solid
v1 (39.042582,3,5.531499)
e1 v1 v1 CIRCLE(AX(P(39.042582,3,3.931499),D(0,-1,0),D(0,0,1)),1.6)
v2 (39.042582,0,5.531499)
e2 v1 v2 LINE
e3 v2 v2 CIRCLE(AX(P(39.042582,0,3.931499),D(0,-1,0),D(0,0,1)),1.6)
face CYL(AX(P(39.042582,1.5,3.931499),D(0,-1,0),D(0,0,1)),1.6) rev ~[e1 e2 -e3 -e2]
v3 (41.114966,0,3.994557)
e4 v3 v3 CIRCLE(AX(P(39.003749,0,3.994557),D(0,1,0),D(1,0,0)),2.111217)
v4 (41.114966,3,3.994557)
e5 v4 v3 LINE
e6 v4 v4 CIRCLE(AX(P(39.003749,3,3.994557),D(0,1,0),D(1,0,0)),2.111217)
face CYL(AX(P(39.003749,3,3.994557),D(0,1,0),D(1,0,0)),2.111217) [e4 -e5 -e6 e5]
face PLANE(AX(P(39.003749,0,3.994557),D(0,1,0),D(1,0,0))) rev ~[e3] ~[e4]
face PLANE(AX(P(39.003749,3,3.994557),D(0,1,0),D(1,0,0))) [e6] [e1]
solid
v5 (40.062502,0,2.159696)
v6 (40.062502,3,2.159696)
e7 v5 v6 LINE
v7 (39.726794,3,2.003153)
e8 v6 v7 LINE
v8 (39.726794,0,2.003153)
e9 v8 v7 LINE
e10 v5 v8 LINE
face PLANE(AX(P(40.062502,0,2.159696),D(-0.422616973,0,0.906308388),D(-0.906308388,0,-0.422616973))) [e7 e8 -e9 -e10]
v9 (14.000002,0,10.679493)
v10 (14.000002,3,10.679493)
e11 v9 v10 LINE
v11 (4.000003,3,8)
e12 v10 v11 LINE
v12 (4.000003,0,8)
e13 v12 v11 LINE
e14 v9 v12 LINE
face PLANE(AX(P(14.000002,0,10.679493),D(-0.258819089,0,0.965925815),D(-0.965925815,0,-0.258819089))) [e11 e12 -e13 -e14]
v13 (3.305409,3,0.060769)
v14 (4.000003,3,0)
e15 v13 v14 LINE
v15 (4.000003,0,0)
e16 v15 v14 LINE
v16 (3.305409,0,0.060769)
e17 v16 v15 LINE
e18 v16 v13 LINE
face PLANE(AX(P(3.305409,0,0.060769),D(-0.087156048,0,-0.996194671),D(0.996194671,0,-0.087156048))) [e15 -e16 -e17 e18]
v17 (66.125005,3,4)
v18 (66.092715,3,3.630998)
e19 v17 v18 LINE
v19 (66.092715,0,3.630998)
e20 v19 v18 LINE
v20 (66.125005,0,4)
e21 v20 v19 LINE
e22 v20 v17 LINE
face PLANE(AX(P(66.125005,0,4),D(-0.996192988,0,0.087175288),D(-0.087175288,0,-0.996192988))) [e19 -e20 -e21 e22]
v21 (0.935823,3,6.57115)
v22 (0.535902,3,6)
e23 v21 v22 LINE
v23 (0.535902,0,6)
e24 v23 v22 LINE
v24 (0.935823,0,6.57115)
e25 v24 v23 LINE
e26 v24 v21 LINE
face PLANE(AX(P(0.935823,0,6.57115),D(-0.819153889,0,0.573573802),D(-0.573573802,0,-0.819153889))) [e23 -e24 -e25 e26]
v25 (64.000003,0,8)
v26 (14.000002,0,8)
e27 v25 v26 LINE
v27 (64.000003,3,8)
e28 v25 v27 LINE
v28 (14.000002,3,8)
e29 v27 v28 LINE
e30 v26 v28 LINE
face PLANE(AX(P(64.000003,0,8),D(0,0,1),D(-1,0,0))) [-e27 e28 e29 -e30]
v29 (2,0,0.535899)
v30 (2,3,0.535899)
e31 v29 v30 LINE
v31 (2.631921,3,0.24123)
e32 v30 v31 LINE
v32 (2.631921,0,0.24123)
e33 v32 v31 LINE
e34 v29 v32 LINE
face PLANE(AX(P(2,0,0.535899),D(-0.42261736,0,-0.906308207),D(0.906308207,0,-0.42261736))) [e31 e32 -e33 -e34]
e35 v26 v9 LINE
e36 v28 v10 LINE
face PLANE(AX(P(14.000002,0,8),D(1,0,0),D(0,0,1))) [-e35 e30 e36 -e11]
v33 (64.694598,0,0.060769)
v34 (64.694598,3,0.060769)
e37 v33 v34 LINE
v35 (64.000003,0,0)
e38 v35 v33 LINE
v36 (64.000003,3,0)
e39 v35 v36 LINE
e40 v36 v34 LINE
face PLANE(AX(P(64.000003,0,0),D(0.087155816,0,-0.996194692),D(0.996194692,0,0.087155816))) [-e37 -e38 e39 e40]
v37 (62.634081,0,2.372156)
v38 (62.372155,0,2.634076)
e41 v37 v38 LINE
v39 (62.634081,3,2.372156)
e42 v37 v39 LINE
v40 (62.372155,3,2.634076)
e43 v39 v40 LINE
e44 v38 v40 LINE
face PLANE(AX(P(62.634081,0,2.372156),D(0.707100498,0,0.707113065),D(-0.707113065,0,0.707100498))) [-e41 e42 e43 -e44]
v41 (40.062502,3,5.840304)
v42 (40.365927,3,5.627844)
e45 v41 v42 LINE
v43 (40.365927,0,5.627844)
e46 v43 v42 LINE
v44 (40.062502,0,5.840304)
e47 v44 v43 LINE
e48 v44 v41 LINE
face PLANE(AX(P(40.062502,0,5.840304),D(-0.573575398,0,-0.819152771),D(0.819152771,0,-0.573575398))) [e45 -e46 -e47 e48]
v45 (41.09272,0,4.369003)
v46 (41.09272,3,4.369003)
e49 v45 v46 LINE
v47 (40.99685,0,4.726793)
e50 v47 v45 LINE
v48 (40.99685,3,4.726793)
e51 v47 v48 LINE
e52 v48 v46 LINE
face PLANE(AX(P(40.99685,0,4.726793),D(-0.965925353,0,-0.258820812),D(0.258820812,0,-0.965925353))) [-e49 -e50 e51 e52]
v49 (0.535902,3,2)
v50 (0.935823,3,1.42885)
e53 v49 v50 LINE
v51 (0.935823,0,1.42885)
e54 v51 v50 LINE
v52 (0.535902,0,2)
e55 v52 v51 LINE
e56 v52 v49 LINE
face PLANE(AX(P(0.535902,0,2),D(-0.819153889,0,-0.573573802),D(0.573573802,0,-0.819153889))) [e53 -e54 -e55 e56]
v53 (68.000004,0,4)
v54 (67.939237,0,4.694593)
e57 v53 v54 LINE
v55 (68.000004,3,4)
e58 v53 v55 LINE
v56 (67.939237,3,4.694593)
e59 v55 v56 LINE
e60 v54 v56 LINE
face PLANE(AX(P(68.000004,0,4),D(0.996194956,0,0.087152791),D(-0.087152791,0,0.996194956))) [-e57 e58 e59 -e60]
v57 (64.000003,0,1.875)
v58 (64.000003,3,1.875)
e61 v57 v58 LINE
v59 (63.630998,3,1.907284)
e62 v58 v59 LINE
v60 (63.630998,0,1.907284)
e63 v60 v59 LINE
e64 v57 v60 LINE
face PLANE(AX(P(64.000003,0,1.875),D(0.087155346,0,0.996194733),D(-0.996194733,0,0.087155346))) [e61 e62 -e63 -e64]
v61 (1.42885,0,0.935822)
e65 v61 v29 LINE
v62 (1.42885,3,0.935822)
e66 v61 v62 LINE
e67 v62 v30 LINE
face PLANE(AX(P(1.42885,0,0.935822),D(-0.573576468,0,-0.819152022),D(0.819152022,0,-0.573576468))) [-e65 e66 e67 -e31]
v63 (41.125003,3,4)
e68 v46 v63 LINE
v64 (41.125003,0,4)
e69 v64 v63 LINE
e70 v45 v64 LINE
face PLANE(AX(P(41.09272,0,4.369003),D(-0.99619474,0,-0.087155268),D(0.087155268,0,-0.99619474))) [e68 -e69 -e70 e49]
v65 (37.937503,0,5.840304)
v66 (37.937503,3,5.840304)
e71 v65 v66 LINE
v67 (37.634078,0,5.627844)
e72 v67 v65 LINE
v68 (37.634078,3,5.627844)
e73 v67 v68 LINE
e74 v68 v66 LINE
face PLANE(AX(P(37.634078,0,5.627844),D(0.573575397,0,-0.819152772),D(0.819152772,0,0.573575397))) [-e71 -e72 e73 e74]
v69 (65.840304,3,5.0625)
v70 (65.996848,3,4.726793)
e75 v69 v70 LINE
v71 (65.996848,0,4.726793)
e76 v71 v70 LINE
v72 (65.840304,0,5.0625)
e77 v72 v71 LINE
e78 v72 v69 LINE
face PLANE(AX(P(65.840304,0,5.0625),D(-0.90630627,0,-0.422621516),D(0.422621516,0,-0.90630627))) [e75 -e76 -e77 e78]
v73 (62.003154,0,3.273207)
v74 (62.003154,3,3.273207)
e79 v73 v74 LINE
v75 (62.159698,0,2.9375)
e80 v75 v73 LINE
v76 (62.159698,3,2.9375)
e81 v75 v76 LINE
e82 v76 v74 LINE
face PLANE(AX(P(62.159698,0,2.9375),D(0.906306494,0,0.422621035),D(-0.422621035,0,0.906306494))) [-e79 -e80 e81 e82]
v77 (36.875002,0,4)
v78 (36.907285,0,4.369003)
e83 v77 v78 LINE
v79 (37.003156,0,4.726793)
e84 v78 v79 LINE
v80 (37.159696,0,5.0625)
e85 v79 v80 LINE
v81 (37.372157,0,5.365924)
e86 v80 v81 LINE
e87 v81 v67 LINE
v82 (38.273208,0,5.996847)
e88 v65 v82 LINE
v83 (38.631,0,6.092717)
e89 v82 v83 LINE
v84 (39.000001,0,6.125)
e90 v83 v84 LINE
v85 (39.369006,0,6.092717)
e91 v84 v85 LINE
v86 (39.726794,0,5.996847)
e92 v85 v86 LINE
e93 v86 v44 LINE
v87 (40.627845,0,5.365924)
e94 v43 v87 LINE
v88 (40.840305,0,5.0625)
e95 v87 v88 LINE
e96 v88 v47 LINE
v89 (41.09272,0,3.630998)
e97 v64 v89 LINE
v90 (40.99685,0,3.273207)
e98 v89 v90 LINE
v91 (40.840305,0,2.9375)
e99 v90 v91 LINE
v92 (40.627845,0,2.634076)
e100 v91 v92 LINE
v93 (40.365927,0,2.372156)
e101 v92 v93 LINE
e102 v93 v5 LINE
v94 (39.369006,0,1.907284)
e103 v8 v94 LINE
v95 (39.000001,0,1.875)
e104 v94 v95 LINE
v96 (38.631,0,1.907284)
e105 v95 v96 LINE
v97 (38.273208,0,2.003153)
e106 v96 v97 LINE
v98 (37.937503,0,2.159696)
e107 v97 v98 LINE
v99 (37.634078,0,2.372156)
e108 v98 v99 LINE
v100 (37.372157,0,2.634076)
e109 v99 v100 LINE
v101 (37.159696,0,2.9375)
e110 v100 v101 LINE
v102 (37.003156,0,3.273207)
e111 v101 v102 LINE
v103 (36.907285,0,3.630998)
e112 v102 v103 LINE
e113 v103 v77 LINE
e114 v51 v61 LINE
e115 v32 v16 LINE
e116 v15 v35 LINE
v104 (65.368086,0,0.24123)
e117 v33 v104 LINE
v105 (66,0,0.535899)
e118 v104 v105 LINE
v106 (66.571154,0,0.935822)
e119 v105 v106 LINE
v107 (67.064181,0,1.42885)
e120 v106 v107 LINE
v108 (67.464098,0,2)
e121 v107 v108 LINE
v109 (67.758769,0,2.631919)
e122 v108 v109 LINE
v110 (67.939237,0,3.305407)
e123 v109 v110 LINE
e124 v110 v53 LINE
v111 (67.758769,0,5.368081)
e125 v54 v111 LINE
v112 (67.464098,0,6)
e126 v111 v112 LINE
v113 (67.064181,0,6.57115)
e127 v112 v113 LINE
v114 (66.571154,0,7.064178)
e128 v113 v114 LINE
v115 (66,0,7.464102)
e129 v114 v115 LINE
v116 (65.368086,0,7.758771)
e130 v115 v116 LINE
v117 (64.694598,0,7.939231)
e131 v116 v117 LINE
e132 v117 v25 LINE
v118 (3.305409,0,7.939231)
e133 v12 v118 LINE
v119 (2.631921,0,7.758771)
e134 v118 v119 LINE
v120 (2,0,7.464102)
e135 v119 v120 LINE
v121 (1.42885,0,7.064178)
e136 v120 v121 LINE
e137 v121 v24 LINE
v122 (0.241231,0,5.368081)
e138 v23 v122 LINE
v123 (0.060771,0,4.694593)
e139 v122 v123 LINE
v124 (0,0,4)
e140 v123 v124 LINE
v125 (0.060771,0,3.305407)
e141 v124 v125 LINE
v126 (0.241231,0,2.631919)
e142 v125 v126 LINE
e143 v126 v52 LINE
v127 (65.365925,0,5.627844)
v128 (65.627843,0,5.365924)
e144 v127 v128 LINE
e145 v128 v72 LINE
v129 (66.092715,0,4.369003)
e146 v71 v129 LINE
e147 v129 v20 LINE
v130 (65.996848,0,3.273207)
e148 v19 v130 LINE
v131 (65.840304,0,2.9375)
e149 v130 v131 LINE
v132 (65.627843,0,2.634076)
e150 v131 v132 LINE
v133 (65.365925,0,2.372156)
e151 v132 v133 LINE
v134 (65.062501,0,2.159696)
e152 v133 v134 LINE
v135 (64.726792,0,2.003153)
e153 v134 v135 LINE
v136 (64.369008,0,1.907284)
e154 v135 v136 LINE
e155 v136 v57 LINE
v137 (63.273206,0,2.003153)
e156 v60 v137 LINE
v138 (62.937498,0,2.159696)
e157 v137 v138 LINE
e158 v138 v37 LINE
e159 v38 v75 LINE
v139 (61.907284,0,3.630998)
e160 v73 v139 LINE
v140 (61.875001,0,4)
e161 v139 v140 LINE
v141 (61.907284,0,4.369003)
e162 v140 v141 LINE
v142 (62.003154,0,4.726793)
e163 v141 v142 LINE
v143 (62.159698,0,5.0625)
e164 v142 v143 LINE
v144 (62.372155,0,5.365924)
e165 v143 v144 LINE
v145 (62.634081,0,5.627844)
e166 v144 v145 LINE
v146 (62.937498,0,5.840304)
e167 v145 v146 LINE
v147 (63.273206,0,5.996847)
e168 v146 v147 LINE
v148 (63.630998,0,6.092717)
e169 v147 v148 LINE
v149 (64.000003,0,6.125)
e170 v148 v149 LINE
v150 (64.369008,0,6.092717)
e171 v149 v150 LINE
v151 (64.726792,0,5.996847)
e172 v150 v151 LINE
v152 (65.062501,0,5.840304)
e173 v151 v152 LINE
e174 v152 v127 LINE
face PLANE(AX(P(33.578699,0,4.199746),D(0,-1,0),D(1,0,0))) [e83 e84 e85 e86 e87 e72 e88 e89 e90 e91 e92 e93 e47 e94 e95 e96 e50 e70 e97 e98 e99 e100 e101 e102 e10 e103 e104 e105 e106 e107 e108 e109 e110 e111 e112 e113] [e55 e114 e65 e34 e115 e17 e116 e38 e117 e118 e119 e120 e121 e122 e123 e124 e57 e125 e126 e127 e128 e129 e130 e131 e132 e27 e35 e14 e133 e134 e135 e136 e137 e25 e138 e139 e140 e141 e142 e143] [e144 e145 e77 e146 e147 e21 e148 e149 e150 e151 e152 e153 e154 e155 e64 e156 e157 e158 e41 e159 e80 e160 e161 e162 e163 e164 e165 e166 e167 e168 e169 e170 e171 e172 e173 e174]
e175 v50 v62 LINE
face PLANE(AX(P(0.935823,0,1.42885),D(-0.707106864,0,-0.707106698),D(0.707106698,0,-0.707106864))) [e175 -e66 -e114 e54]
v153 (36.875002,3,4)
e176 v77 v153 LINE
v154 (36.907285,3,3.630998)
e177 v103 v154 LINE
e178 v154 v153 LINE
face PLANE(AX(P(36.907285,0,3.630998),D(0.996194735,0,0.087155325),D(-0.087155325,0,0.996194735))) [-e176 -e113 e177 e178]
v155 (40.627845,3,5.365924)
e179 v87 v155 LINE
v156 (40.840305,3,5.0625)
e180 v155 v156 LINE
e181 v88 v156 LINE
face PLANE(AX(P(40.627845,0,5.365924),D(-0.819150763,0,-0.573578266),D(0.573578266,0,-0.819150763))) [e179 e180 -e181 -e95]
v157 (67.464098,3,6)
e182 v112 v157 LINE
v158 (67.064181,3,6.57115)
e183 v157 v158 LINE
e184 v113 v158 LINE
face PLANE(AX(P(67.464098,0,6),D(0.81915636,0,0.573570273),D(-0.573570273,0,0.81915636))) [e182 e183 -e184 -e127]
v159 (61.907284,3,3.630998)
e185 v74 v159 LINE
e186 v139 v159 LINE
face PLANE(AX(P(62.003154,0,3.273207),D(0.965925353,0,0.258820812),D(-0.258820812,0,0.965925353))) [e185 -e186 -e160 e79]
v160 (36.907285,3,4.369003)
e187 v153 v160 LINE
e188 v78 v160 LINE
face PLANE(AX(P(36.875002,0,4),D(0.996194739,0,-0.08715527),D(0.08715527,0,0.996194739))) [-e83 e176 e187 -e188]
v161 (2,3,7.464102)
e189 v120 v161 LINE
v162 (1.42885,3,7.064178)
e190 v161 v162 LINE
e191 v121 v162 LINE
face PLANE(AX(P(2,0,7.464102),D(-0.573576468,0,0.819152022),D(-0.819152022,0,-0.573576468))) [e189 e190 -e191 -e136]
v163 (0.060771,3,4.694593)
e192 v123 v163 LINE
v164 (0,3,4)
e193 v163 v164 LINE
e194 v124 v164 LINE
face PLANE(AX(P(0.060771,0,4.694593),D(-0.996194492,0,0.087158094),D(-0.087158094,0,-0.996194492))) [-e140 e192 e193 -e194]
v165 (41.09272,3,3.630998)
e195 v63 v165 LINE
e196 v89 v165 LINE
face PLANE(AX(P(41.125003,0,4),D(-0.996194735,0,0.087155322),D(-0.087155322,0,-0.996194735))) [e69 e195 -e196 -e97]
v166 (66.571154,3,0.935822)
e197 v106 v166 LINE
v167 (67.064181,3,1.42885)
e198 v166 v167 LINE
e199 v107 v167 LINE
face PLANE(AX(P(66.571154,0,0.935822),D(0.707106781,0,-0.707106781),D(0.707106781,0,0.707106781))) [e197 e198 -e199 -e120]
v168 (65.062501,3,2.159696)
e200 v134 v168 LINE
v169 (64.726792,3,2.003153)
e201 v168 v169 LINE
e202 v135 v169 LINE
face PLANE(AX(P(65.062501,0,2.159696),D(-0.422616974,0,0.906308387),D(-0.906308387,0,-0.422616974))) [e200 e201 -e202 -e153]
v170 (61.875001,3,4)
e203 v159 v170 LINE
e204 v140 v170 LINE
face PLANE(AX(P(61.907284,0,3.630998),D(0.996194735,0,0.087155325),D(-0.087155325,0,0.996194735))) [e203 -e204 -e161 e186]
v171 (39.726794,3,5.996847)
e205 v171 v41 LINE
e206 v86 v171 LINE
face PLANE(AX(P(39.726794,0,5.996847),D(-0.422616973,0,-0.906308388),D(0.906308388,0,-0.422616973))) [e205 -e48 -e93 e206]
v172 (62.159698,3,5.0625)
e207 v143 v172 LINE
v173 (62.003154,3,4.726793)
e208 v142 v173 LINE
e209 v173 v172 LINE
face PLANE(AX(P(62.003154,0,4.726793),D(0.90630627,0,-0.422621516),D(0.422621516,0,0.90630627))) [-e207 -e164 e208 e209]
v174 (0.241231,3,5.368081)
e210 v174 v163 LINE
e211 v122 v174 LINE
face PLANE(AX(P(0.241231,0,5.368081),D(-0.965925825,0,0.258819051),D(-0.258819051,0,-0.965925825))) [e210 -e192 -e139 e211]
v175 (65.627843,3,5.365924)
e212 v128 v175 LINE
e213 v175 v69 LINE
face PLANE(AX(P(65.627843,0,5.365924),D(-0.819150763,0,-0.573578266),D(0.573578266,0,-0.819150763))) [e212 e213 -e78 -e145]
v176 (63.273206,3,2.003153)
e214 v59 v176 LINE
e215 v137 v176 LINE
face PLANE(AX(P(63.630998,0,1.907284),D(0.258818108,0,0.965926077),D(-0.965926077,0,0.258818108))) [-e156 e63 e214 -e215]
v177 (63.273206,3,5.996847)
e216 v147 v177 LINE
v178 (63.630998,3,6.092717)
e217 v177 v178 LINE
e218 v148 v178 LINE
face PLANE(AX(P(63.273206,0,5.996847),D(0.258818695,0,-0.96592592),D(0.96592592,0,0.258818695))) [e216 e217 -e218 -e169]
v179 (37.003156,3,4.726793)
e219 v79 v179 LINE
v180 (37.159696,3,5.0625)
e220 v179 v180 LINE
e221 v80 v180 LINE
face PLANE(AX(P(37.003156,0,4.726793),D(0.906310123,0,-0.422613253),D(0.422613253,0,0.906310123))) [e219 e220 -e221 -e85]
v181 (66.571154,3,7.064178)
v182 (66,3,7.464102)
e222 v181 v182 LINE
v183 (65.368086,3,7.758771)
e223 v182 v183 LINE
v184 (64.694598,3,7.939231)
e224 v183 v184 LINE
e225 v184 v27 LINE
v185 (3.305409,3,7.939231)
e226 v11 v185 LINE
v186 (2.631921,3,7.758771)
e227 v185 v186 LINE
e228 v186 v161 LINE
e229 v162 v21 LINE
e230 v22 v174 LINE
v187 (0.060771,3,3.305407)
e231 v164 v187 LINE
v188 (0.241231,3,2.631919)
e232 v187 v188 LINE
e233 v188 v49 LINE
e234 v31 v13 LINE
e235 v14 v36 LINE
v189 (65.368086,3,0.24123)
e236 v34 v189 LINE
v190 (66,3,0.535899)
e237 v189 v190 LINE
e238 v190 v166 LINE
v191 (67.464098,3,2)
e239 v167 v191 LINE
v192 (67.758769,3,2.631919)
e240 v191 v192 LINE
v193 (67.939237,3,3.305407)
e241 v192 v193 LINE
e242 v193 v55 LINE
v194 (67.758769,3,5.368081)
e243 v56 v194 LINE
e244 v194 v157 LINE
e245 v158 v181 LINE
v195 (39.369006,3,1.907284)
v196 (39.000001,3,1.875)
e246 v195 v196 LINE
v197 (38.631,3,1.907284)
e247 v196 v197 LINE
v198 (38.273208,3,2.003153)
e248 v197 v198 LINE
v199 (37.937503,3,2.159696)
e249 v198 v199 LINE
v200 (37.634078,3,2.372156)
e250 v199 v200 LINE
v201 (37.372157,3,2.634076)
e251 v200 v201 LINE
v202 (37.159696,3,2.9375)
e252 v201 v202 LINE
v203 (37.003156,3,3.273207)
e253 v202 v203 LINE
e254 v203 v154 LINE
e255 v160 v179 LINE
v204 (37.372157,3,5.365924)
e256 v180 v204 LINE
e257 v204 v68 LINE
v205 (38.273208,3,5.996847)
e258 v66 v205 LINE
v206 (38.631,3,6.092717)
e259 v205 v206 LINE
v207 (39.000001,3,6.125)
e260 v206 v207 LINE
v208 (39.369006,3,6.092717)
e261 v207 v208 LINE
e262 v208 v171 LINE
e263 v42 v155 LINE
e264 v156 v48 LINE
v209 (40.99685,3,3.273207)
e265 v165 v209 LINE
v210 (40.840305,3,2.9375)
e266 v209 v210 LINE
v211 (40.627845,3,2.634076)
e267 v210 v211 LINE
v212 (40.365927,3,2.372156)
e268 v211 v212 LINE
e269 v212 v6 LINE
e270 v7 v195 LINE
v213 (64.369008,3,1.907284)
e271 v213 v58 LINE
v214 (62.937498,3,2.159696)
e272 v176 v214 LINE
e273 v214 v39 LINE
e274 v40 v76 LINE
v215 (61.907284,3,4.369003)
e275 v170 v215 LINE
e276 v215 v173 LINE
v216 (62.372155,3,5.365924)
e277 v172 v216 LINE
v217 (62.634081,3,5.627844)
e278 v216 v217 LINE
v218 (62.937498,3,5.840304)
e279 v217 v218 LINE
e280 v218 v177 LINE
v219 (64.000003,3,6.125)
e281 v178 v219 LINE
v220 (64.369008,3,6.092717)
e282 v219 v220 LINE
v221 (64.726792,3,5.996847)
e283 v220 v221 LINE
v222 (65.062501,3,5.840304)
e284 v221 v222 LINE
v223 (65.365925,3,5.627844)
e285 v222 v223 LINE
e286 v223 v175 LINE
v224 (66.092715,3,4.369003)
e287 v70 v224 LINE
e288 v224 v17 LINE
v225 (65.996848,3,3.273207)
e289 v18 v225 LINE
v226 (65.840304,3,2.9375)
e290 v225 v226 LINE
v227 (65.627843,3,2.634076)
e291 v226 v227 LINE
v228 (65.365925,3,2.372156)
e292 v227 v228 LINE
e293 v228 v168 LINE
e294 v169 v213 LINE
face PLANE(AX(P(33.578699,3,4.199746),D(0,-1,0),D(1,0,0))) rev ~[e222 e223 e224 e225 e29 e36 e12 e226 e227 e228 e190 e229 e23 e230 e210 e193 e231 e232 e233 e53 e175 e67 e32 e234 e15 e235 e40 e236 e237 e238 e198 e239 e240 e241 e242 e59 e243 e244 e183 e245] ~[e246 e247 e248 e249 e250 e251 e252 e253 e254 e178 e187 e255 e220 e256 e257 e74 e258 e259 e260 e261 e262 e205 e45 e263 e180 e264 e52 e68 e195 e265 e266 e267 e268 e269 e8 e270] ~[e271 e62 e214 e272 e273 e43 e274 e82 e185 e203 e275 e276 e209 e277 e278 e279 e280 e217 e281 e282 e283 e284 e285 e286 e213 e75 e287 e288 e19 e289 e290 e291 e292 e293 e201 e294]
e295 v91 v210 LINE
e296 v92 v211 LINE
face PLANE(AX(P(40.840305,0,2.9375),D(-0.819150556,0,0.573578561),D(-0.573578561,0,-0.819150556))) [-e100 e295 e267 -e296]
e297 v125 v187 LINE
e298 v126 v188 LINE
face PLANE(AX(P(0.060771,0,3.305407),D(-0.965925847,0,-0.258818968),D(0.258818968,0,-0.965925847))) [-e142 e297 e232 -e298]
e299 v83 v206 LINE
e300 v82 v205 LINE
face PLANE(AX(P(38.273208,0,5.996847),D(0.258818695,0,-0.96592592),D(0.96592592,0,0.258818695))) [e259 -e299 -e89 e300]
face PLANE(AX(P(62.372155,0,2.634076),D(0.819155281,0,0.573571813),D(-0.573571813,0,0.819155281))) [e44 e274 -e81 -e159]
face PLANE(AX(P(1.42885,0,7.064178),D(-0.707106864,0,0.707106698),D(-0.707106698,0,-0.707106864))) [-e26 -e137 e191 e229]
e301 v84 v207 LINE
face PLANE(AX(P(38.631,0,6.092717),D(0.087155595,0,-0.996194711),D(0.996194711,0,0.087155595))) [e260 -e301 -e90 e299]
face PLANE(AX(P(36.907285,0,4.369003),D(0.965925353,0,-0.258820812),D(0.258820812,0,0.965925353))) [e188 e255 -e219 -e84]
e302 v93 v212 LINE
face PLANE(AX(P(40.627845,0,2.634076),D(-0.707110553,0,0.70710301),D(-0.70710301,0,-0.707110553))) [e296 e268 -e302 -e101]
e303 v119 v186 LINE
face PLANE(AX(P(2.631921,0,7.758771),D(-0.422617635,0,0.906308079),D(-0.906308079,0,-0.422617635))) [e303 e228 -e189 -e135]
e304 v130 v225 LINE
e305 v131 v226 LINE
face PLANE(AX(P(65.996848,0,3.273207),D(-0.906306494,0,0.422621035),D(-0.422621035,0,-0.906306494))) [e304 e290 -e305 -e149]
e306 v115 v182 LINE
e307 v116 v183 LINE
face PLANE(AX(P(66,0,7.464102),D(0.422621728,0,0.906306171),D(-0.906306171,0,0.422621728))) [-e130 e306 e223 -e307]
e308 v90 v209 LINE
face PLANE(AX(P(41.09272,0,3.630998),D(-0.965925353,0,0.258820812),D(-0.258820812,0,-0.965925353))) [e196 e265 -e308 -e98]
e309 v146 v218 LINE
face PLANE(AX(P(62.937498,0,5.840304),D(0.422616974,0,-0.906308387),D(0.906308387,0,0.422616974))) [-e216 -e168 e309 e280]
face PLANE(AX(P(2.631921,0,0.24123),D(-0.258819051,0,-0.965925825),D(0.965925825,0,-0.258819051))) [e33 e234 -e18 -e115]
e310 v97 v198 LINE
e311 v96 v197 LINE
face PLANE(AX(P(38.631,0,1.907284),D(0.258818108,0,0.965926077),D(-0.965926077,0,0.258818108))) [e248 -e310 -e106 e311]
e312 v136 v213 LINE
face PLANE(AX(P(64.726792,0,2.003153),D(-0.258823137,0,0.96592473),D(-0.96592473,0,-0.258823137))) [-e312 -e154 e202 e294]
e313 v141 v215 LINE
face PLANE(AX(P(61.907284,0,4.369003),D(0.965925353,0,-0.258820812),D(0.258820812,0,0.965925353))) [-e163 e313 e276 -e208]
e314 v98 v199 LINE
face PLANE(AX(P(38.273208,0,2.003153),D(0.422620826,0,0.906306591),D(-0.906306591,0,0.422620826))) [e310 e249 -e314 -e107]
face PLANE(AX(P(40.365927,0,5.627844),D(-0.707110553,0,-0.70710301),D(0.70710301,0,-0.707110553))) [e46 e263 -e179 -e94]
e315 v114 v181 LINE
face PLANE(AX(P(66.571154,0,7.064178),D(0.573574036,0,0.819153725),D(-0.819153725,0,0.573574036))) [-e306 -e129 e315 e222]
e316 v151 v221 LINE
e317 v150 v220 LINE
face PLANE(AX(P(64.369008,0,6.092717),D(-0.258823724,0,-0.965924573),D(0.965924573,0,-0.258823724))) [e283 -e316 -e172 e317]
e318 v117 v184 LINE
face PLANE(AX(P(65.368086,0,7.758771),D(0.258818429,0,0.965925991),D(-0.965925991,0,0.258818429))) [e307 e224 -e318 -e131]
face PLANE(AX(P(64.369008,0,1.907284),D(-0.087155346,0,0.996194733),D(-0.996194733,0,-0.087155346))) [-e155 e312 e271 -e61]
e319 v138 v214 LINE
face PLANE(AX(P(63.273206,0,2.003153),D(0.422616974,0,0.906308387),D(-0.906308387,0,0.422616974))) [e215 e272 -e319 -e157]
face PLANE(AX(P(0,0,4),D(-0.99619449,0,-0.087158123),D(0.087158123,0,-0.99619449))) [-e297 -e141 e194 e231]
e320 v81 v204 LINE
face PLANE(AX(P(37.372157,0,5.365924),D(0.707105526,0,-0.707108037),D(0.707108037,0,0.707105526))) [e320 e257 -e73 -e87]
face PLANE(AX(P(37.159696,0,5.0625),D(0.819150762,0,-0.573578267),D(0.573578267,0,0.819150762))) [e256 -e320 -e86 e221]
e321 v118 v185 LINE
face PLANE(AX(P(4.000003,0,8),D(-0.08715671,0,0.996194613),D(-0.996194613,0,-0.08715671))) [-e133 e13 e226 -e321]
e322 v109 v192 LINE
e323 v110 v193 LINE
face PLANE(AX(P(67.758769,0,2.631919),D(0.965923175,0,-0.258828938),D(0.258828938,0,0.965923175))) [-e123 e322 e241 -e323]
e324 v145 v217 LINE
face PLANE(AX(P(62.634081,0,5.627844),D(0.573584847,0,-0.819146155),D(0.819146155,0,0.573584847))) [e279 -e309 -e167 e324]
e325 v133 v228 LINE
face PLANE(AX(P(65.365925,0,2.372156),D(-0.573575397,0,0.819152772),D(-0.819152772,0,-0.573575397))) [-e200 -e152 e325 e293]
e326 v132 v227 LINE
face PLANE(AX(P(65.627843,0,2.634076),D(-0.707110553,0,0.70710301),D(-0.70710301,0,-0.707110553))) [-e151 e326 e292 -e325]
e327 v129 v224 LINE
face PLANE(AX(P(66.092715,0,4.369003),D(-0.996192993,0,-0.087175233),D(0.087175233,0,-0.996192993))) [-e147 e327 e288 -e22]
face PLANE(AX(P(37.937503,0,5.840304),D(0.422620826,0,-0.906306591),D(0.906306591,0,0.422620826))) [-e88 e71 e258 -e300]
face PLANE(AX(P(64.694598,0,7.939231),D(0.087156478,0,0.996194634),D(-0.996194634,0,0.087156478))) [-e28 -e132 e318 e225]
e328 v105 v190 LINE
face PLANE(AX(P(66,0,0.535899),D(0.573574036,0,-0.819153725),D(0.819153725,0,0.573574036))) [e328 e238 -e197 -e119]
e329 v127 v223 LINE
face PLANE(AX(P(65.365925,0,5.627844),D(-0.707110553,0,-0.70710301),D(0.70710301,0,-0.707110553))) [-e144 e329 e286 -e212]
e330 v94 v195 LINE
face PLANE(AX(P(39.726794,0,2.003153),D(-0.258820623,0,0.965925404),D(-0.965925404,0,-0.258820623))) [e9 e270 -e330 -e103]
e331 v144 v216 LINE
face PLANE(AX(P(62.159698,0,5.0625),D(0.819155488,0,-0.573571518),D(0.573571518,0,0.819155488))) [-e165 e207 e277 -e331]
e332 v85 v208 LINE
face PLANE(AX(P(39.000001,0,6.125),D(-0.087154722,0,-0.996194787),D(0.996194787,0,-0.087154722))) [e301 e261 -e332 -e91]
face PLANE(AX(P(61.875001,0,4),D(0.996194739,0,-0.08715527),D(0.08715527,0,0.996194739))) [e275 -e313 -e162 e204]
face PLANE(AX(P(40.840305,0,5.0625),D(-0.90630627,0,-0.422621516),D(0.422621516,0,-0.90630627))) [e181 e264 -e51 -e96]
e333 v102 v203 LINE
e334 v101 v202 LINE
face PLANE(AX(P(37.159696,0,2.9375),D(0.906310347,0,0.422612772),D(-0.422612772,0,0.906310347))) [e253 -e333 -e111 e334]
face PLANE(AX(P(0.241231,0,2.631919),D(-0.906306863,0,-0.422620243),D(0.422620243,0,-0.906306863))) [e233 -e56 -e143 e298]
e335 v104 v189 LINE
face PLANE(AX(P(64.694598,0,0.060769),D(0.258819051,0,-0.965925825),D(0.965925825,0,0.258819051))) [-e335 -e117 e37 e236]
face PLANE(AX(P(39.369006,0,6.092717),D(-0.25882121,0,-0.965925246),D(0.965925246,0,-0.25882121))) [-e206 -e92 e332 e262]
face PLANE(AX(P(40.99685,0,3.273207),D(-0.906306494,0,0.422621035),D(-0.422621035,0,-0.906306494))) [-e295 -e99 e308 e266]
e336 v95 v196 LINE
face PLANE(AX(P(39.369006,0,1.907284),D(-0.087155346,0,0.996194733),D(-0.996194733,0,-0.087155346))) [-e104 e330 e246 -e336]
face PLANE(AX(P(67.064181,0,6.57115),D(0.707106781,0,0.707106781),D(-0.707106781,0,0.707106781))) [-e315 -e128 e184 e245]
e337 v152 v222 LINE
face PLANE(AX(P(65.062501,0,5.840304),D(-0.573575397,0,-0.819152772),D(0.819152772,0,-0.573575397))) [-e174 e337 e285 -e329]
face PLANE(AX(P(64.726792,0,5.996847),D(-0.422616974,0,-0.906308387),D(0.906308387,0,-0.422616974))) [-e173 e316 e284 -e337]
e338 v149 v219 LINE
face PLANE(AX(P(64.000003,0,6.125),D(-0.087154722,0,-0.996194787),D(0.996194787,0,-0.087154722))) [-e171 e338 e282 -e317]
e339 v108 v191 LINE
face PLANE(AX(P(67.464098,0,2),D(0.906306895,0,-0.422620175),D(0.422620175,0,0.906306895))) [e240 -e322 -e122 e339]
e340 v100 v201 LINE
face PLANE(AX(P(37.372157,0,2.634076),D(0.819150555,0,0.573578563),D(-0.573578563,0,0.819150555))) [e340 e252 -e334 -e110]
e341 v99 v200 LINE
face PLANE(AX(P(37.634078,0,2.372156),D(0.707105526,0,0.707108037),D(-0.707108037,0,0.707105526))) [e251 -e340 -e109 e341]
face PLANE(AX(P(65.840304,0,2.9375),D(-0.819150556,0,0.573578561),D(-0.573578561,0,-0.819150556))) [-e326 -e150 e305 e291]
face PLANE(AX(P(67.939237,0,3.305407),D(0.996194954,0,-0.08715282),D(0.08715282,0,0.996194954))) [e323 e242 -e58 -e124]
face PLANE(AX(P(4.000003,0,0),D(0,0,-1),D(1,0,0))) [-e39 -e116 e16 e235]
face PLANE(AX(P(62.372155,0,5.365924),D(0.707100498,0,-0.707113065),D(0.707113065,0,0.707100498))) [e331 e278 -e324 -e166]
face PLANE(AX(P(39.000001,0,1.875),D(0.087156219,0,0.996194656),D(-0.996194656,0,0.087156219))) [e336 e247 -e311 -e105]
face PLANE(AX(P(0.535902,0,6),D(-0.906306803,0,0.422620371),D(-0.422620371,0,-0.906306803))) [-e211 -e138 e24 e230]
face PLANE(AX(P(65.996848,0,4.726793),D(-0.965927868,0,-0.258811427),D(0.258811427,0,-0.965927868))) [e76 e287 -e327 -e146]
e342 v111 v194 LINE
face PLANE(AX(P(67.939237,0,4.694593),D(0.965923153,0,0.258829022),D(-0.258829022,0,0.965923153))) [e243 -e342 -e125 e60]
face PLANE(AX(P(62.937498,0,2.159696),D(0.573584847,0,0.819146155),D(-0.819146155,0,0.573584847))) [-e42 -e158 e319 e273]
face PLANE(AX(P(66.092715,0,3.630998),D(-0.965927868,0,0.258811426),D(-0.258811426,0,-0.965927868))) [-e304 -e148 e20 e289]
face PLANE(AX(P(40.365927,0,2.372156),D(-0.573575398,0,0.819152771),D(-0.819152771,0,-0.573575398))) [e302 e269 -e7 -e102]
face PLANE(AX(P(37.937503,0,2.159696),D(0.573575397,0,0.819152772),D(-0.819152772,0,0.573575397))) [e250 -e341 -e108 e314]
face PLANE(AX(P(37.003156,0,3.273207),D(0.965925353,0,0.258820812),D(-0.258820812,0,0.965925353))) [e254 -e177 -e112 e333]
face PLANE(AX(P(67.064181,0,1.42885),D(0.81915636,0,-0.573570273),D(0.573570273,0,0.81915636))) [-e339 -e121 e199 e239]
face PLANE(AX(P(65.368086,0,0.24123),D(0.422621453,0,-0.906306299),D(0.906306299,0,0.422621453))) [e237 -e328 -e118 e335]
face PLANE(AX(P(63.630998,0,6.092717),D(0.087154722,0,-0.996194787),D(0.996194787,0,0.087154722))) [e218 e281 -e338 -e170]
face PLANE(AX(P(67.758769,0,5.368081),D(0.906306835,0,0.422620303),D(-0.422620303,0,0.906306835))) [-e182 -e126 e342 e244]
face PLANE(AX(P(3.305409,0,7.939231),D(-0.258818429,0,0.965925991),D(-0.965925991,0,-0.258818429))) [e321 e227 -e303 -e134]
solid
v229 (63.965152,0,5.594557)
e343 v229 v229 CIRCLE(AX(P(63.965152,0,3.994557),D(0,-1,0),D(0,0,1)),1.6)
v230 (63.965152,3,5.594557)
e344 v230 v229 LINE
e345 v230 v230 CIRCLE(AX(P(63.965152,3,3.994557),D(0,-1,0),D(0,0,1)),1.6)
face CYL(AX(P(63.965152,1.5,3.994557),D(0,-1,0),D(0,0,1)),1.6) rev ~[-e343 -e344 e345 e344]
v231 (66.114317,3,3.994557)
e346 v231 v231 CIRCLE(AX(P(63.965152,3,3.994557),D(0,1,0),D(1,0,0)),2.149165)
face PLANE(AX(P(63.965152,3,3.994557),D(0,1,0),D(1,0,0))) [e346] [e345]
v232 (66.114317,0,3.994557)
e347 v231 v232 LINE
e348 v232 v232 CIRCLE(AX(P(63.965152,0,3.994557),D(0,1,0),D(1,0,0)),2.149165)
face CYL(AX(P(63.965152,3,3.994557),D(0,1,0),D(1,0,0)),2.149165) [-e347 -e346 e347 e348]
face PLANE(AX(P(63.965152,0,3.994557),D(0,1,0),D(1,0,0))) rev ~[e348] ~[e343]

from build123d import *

# Parameters (mm, degrees)
BOSS_EXTRUDE1_DEPTH           = 3.000000026
SKETCH2_R                     = 2.11121725
BOSS_EXTRUDE2_DEPTH           = 3
SKETCH2_R_2                   = 2.149164951
BOSS_EXTRUDE2_2_DEPTH         = 3
SKETCH4_W                     = 1.6
SKETCH4_H                     = 3.000000026
M3_CLEARANCE_HOLE1_AT_2_COUNT = 2
M3_CLEARANCE_HOLE1_AT_2_PITCH = 24.92264996


with BuildPart() as part:
    # Sketch1 → Boss-Extrude1 (new body)
    with BuildSketch(Plane.XZ):
        Polygon((64.00000304, 8.00000038), (14.000002295, 8.00000038), (14.000002295, 10.679492727), (4.000002518, 8.00000038), (3.305409104, 7.939230651), (2.631921321, 7.758770604), (2.000000328, 7.464101538), (1.428849879, 7.064177655), (0.935822725, 6.571150385), (0.535901694, 6.000000052), (0.241231173, 5.368080921), (0.060770661, 4.694593139), (0, 4.00000019), (0.060770661, 3.305407474), (0.241231173, 2.631919459), (0.535901694, 2.000000095), (0.935822725, 1.428849762), (1.428849879, 0.935822492), (2.000000328, 0.535898609), (2.631921321, 0.241229776), (3.305409104, 0.060769264), (4.000002518, 0), (64.00000304, 0), (64.694598317, 0.060769264), (65.3680861, 0.241229776), (65.999999642, 0.535898609), (66.5711537, 0.935822492), (67.06418097, 1.428849762), (67.464098334, 2.000000095), (67.758768797, 2.631919459), (67.93923676, 3.305407474), (68.000003695, 4.00000019), (67.93923676, 4.694593139), (67.758768797, 5.368080921), (67.464098334, 6.000000052), (67.06418097, 6.571150385), (66.5711537, 7.064177655), (65.999999642, 7.464101538), (65.3680861, 7.758770604), (64.694598317, 7.939230651), align=None)
        Polygon((62.634080648, 2.372155897), (62.372155488, 2.634076402), (62.159698457, 2.937500132), (62.003154308, 3.273207461), (61.907283962, 3.630997846), (61.875000596, 4.00000019), (61.907283962, 4.369002767), (62.003154308, 4.726793151), (62.159698457, 5.062500015), (62.372155488, 5.365923978), (62.634080648, 5.627844483), (62.937498093, 5.840304308), (63.273206353, 5.99684706), (63.630998135, 6.09271694), (64.00000304, 6.125000305), (64.369007945, 6.09271694), (64.726792276, 5.99684706), (65.062500536, 5.840304308), (65.365925431, 5.627844483), (65.627843142, 5.365923978), (65.840303898, 5.062500015), (65.996848047, 4.726793151), (66.092714667, 4.369002767), (66.125005484, 4.00000019), (66.092714667, 3.630997846), (65.996848047, 3.273207461), (65.840303898, 2.937500132), (65.627843142, 2.634076402), (65.365925431, 2.372155897), (65.062500536, 2.159696072), (64.726792276, 2.00315332), (64.369007945, 1.907283673), (64.00000304, 1.875000075), (63.630998135, 1.907283673), (63.273206353, 2.00315332), (62.937498093, 2.159696072), align=None, mode=Mode.SUBTRACT)
        Polygon((38.273207843, 5.99684706), (38.630999625, 6.09271694), (39.000000805, 6.125000305), (39.36900571, 6.09271694), (39.726793766, 5.99684706), (40.062502027, 5.840304308), (40.365926921, 5.627844483), (40.627844632, 5.365923978), (40.840305388, 5.062500015), (40.996849537, 4.726793151), (41.092719883, 4.369002767), (41.125003248, 4.00000019), (41.092719883, 3.630997846), (40.996849537, 3.273207461), (40.840305388, 2.937500132), (40.627844632, 2.634076402), (40.365926921, 2.372155897), (40.062502027, 2.159696072), (39.726793766, 2.00315332), (39.36900571, 1.907283673), (39.000000805, 1.875000075), (38.630999625, 1.907283673), (38.273207843, 2.00315332), (37.937503308, 2.159696072), (37.634078413, 2.372155897), (37.372156978, 2.634076402), (37.159696221, 2.937500132), (37.003155798, 3.273207461), (36.907285452, 3.630997846), (36.875002086, 4.00000019), (36.907285452, 4.369002767), (37.003155798, 4.726793151), (37.159696221, 5.062500015), (37.372156978, 5.365923978), (37.634078413, 5.627844483), (37.937503308, 5.840304308), align=None, mode=Mode.SUBTRACT)
    extrude(amount=-BOSS_EXTRUDE1_DEPTH)


with BuildPart() as body_2:
    # Sketch2 → Boss-Extrude2 (new body)
    with BuildSketch(Plane(origin=(0, 3.000000026, 0), x_dir=(1, 0, 0), z_dir=(0, 1, 0))):
        with Locations((39.003749175, -3.994556906)):
            Circle(SKETCH2_R)
    extrude(amount=-BOSS_EXTRUDE2_DEPTH)

    # Sketch4 → M3 Clearance Hole1 (revolve, cut)
    with BuildSketch(Plane(origin=(39.042582184, 3.000000026, 3.931498861), x_dir=(0, 0, 1), z_dir=(1, 0, 0))):
        with Locations((0.8, 1.500000013)):
            Rectangle(SKETCH4_W, SKETCH4_H)
    m3_clearance_hole1 = revolve(axis=Axis((39.042582184, 9.350000026, 3.931498861), (0, -1, 0)), mode=Mode.SUBTRACT)


with BuildPart() as body_3:
    # Sketch2 → Boss-Extrude2 2 (new body)
    with BuildSketch(Plane(origin=(0, 3.000000026, 0), x_dir=(1, 0, 0), z_dir=(0, 1, 0))):
        with Locations((63.965152371, -3.994556906)):
            Circle(SKETCH2_R_2)
    extrude(amount=-BOSS_EXTRUDE2_2_DEPTH)

    # M3 Clearance Hole1 at 2: M3 Clearance Hole1 ×2
    with Locations(*[Vector(0.999996799, 0, 0.00253015) * (i * M3_CLEARANCE_HOLE1_AT_2_PITCH) for i in range(1, M3_CLEARANCE_HOLE1_AT_2_COUNT)]):
        add(m3_clearance_hole1, mode=Mode.SUBTRACT)


solid = Compound([part.part, body_2.part, body_3.part])
